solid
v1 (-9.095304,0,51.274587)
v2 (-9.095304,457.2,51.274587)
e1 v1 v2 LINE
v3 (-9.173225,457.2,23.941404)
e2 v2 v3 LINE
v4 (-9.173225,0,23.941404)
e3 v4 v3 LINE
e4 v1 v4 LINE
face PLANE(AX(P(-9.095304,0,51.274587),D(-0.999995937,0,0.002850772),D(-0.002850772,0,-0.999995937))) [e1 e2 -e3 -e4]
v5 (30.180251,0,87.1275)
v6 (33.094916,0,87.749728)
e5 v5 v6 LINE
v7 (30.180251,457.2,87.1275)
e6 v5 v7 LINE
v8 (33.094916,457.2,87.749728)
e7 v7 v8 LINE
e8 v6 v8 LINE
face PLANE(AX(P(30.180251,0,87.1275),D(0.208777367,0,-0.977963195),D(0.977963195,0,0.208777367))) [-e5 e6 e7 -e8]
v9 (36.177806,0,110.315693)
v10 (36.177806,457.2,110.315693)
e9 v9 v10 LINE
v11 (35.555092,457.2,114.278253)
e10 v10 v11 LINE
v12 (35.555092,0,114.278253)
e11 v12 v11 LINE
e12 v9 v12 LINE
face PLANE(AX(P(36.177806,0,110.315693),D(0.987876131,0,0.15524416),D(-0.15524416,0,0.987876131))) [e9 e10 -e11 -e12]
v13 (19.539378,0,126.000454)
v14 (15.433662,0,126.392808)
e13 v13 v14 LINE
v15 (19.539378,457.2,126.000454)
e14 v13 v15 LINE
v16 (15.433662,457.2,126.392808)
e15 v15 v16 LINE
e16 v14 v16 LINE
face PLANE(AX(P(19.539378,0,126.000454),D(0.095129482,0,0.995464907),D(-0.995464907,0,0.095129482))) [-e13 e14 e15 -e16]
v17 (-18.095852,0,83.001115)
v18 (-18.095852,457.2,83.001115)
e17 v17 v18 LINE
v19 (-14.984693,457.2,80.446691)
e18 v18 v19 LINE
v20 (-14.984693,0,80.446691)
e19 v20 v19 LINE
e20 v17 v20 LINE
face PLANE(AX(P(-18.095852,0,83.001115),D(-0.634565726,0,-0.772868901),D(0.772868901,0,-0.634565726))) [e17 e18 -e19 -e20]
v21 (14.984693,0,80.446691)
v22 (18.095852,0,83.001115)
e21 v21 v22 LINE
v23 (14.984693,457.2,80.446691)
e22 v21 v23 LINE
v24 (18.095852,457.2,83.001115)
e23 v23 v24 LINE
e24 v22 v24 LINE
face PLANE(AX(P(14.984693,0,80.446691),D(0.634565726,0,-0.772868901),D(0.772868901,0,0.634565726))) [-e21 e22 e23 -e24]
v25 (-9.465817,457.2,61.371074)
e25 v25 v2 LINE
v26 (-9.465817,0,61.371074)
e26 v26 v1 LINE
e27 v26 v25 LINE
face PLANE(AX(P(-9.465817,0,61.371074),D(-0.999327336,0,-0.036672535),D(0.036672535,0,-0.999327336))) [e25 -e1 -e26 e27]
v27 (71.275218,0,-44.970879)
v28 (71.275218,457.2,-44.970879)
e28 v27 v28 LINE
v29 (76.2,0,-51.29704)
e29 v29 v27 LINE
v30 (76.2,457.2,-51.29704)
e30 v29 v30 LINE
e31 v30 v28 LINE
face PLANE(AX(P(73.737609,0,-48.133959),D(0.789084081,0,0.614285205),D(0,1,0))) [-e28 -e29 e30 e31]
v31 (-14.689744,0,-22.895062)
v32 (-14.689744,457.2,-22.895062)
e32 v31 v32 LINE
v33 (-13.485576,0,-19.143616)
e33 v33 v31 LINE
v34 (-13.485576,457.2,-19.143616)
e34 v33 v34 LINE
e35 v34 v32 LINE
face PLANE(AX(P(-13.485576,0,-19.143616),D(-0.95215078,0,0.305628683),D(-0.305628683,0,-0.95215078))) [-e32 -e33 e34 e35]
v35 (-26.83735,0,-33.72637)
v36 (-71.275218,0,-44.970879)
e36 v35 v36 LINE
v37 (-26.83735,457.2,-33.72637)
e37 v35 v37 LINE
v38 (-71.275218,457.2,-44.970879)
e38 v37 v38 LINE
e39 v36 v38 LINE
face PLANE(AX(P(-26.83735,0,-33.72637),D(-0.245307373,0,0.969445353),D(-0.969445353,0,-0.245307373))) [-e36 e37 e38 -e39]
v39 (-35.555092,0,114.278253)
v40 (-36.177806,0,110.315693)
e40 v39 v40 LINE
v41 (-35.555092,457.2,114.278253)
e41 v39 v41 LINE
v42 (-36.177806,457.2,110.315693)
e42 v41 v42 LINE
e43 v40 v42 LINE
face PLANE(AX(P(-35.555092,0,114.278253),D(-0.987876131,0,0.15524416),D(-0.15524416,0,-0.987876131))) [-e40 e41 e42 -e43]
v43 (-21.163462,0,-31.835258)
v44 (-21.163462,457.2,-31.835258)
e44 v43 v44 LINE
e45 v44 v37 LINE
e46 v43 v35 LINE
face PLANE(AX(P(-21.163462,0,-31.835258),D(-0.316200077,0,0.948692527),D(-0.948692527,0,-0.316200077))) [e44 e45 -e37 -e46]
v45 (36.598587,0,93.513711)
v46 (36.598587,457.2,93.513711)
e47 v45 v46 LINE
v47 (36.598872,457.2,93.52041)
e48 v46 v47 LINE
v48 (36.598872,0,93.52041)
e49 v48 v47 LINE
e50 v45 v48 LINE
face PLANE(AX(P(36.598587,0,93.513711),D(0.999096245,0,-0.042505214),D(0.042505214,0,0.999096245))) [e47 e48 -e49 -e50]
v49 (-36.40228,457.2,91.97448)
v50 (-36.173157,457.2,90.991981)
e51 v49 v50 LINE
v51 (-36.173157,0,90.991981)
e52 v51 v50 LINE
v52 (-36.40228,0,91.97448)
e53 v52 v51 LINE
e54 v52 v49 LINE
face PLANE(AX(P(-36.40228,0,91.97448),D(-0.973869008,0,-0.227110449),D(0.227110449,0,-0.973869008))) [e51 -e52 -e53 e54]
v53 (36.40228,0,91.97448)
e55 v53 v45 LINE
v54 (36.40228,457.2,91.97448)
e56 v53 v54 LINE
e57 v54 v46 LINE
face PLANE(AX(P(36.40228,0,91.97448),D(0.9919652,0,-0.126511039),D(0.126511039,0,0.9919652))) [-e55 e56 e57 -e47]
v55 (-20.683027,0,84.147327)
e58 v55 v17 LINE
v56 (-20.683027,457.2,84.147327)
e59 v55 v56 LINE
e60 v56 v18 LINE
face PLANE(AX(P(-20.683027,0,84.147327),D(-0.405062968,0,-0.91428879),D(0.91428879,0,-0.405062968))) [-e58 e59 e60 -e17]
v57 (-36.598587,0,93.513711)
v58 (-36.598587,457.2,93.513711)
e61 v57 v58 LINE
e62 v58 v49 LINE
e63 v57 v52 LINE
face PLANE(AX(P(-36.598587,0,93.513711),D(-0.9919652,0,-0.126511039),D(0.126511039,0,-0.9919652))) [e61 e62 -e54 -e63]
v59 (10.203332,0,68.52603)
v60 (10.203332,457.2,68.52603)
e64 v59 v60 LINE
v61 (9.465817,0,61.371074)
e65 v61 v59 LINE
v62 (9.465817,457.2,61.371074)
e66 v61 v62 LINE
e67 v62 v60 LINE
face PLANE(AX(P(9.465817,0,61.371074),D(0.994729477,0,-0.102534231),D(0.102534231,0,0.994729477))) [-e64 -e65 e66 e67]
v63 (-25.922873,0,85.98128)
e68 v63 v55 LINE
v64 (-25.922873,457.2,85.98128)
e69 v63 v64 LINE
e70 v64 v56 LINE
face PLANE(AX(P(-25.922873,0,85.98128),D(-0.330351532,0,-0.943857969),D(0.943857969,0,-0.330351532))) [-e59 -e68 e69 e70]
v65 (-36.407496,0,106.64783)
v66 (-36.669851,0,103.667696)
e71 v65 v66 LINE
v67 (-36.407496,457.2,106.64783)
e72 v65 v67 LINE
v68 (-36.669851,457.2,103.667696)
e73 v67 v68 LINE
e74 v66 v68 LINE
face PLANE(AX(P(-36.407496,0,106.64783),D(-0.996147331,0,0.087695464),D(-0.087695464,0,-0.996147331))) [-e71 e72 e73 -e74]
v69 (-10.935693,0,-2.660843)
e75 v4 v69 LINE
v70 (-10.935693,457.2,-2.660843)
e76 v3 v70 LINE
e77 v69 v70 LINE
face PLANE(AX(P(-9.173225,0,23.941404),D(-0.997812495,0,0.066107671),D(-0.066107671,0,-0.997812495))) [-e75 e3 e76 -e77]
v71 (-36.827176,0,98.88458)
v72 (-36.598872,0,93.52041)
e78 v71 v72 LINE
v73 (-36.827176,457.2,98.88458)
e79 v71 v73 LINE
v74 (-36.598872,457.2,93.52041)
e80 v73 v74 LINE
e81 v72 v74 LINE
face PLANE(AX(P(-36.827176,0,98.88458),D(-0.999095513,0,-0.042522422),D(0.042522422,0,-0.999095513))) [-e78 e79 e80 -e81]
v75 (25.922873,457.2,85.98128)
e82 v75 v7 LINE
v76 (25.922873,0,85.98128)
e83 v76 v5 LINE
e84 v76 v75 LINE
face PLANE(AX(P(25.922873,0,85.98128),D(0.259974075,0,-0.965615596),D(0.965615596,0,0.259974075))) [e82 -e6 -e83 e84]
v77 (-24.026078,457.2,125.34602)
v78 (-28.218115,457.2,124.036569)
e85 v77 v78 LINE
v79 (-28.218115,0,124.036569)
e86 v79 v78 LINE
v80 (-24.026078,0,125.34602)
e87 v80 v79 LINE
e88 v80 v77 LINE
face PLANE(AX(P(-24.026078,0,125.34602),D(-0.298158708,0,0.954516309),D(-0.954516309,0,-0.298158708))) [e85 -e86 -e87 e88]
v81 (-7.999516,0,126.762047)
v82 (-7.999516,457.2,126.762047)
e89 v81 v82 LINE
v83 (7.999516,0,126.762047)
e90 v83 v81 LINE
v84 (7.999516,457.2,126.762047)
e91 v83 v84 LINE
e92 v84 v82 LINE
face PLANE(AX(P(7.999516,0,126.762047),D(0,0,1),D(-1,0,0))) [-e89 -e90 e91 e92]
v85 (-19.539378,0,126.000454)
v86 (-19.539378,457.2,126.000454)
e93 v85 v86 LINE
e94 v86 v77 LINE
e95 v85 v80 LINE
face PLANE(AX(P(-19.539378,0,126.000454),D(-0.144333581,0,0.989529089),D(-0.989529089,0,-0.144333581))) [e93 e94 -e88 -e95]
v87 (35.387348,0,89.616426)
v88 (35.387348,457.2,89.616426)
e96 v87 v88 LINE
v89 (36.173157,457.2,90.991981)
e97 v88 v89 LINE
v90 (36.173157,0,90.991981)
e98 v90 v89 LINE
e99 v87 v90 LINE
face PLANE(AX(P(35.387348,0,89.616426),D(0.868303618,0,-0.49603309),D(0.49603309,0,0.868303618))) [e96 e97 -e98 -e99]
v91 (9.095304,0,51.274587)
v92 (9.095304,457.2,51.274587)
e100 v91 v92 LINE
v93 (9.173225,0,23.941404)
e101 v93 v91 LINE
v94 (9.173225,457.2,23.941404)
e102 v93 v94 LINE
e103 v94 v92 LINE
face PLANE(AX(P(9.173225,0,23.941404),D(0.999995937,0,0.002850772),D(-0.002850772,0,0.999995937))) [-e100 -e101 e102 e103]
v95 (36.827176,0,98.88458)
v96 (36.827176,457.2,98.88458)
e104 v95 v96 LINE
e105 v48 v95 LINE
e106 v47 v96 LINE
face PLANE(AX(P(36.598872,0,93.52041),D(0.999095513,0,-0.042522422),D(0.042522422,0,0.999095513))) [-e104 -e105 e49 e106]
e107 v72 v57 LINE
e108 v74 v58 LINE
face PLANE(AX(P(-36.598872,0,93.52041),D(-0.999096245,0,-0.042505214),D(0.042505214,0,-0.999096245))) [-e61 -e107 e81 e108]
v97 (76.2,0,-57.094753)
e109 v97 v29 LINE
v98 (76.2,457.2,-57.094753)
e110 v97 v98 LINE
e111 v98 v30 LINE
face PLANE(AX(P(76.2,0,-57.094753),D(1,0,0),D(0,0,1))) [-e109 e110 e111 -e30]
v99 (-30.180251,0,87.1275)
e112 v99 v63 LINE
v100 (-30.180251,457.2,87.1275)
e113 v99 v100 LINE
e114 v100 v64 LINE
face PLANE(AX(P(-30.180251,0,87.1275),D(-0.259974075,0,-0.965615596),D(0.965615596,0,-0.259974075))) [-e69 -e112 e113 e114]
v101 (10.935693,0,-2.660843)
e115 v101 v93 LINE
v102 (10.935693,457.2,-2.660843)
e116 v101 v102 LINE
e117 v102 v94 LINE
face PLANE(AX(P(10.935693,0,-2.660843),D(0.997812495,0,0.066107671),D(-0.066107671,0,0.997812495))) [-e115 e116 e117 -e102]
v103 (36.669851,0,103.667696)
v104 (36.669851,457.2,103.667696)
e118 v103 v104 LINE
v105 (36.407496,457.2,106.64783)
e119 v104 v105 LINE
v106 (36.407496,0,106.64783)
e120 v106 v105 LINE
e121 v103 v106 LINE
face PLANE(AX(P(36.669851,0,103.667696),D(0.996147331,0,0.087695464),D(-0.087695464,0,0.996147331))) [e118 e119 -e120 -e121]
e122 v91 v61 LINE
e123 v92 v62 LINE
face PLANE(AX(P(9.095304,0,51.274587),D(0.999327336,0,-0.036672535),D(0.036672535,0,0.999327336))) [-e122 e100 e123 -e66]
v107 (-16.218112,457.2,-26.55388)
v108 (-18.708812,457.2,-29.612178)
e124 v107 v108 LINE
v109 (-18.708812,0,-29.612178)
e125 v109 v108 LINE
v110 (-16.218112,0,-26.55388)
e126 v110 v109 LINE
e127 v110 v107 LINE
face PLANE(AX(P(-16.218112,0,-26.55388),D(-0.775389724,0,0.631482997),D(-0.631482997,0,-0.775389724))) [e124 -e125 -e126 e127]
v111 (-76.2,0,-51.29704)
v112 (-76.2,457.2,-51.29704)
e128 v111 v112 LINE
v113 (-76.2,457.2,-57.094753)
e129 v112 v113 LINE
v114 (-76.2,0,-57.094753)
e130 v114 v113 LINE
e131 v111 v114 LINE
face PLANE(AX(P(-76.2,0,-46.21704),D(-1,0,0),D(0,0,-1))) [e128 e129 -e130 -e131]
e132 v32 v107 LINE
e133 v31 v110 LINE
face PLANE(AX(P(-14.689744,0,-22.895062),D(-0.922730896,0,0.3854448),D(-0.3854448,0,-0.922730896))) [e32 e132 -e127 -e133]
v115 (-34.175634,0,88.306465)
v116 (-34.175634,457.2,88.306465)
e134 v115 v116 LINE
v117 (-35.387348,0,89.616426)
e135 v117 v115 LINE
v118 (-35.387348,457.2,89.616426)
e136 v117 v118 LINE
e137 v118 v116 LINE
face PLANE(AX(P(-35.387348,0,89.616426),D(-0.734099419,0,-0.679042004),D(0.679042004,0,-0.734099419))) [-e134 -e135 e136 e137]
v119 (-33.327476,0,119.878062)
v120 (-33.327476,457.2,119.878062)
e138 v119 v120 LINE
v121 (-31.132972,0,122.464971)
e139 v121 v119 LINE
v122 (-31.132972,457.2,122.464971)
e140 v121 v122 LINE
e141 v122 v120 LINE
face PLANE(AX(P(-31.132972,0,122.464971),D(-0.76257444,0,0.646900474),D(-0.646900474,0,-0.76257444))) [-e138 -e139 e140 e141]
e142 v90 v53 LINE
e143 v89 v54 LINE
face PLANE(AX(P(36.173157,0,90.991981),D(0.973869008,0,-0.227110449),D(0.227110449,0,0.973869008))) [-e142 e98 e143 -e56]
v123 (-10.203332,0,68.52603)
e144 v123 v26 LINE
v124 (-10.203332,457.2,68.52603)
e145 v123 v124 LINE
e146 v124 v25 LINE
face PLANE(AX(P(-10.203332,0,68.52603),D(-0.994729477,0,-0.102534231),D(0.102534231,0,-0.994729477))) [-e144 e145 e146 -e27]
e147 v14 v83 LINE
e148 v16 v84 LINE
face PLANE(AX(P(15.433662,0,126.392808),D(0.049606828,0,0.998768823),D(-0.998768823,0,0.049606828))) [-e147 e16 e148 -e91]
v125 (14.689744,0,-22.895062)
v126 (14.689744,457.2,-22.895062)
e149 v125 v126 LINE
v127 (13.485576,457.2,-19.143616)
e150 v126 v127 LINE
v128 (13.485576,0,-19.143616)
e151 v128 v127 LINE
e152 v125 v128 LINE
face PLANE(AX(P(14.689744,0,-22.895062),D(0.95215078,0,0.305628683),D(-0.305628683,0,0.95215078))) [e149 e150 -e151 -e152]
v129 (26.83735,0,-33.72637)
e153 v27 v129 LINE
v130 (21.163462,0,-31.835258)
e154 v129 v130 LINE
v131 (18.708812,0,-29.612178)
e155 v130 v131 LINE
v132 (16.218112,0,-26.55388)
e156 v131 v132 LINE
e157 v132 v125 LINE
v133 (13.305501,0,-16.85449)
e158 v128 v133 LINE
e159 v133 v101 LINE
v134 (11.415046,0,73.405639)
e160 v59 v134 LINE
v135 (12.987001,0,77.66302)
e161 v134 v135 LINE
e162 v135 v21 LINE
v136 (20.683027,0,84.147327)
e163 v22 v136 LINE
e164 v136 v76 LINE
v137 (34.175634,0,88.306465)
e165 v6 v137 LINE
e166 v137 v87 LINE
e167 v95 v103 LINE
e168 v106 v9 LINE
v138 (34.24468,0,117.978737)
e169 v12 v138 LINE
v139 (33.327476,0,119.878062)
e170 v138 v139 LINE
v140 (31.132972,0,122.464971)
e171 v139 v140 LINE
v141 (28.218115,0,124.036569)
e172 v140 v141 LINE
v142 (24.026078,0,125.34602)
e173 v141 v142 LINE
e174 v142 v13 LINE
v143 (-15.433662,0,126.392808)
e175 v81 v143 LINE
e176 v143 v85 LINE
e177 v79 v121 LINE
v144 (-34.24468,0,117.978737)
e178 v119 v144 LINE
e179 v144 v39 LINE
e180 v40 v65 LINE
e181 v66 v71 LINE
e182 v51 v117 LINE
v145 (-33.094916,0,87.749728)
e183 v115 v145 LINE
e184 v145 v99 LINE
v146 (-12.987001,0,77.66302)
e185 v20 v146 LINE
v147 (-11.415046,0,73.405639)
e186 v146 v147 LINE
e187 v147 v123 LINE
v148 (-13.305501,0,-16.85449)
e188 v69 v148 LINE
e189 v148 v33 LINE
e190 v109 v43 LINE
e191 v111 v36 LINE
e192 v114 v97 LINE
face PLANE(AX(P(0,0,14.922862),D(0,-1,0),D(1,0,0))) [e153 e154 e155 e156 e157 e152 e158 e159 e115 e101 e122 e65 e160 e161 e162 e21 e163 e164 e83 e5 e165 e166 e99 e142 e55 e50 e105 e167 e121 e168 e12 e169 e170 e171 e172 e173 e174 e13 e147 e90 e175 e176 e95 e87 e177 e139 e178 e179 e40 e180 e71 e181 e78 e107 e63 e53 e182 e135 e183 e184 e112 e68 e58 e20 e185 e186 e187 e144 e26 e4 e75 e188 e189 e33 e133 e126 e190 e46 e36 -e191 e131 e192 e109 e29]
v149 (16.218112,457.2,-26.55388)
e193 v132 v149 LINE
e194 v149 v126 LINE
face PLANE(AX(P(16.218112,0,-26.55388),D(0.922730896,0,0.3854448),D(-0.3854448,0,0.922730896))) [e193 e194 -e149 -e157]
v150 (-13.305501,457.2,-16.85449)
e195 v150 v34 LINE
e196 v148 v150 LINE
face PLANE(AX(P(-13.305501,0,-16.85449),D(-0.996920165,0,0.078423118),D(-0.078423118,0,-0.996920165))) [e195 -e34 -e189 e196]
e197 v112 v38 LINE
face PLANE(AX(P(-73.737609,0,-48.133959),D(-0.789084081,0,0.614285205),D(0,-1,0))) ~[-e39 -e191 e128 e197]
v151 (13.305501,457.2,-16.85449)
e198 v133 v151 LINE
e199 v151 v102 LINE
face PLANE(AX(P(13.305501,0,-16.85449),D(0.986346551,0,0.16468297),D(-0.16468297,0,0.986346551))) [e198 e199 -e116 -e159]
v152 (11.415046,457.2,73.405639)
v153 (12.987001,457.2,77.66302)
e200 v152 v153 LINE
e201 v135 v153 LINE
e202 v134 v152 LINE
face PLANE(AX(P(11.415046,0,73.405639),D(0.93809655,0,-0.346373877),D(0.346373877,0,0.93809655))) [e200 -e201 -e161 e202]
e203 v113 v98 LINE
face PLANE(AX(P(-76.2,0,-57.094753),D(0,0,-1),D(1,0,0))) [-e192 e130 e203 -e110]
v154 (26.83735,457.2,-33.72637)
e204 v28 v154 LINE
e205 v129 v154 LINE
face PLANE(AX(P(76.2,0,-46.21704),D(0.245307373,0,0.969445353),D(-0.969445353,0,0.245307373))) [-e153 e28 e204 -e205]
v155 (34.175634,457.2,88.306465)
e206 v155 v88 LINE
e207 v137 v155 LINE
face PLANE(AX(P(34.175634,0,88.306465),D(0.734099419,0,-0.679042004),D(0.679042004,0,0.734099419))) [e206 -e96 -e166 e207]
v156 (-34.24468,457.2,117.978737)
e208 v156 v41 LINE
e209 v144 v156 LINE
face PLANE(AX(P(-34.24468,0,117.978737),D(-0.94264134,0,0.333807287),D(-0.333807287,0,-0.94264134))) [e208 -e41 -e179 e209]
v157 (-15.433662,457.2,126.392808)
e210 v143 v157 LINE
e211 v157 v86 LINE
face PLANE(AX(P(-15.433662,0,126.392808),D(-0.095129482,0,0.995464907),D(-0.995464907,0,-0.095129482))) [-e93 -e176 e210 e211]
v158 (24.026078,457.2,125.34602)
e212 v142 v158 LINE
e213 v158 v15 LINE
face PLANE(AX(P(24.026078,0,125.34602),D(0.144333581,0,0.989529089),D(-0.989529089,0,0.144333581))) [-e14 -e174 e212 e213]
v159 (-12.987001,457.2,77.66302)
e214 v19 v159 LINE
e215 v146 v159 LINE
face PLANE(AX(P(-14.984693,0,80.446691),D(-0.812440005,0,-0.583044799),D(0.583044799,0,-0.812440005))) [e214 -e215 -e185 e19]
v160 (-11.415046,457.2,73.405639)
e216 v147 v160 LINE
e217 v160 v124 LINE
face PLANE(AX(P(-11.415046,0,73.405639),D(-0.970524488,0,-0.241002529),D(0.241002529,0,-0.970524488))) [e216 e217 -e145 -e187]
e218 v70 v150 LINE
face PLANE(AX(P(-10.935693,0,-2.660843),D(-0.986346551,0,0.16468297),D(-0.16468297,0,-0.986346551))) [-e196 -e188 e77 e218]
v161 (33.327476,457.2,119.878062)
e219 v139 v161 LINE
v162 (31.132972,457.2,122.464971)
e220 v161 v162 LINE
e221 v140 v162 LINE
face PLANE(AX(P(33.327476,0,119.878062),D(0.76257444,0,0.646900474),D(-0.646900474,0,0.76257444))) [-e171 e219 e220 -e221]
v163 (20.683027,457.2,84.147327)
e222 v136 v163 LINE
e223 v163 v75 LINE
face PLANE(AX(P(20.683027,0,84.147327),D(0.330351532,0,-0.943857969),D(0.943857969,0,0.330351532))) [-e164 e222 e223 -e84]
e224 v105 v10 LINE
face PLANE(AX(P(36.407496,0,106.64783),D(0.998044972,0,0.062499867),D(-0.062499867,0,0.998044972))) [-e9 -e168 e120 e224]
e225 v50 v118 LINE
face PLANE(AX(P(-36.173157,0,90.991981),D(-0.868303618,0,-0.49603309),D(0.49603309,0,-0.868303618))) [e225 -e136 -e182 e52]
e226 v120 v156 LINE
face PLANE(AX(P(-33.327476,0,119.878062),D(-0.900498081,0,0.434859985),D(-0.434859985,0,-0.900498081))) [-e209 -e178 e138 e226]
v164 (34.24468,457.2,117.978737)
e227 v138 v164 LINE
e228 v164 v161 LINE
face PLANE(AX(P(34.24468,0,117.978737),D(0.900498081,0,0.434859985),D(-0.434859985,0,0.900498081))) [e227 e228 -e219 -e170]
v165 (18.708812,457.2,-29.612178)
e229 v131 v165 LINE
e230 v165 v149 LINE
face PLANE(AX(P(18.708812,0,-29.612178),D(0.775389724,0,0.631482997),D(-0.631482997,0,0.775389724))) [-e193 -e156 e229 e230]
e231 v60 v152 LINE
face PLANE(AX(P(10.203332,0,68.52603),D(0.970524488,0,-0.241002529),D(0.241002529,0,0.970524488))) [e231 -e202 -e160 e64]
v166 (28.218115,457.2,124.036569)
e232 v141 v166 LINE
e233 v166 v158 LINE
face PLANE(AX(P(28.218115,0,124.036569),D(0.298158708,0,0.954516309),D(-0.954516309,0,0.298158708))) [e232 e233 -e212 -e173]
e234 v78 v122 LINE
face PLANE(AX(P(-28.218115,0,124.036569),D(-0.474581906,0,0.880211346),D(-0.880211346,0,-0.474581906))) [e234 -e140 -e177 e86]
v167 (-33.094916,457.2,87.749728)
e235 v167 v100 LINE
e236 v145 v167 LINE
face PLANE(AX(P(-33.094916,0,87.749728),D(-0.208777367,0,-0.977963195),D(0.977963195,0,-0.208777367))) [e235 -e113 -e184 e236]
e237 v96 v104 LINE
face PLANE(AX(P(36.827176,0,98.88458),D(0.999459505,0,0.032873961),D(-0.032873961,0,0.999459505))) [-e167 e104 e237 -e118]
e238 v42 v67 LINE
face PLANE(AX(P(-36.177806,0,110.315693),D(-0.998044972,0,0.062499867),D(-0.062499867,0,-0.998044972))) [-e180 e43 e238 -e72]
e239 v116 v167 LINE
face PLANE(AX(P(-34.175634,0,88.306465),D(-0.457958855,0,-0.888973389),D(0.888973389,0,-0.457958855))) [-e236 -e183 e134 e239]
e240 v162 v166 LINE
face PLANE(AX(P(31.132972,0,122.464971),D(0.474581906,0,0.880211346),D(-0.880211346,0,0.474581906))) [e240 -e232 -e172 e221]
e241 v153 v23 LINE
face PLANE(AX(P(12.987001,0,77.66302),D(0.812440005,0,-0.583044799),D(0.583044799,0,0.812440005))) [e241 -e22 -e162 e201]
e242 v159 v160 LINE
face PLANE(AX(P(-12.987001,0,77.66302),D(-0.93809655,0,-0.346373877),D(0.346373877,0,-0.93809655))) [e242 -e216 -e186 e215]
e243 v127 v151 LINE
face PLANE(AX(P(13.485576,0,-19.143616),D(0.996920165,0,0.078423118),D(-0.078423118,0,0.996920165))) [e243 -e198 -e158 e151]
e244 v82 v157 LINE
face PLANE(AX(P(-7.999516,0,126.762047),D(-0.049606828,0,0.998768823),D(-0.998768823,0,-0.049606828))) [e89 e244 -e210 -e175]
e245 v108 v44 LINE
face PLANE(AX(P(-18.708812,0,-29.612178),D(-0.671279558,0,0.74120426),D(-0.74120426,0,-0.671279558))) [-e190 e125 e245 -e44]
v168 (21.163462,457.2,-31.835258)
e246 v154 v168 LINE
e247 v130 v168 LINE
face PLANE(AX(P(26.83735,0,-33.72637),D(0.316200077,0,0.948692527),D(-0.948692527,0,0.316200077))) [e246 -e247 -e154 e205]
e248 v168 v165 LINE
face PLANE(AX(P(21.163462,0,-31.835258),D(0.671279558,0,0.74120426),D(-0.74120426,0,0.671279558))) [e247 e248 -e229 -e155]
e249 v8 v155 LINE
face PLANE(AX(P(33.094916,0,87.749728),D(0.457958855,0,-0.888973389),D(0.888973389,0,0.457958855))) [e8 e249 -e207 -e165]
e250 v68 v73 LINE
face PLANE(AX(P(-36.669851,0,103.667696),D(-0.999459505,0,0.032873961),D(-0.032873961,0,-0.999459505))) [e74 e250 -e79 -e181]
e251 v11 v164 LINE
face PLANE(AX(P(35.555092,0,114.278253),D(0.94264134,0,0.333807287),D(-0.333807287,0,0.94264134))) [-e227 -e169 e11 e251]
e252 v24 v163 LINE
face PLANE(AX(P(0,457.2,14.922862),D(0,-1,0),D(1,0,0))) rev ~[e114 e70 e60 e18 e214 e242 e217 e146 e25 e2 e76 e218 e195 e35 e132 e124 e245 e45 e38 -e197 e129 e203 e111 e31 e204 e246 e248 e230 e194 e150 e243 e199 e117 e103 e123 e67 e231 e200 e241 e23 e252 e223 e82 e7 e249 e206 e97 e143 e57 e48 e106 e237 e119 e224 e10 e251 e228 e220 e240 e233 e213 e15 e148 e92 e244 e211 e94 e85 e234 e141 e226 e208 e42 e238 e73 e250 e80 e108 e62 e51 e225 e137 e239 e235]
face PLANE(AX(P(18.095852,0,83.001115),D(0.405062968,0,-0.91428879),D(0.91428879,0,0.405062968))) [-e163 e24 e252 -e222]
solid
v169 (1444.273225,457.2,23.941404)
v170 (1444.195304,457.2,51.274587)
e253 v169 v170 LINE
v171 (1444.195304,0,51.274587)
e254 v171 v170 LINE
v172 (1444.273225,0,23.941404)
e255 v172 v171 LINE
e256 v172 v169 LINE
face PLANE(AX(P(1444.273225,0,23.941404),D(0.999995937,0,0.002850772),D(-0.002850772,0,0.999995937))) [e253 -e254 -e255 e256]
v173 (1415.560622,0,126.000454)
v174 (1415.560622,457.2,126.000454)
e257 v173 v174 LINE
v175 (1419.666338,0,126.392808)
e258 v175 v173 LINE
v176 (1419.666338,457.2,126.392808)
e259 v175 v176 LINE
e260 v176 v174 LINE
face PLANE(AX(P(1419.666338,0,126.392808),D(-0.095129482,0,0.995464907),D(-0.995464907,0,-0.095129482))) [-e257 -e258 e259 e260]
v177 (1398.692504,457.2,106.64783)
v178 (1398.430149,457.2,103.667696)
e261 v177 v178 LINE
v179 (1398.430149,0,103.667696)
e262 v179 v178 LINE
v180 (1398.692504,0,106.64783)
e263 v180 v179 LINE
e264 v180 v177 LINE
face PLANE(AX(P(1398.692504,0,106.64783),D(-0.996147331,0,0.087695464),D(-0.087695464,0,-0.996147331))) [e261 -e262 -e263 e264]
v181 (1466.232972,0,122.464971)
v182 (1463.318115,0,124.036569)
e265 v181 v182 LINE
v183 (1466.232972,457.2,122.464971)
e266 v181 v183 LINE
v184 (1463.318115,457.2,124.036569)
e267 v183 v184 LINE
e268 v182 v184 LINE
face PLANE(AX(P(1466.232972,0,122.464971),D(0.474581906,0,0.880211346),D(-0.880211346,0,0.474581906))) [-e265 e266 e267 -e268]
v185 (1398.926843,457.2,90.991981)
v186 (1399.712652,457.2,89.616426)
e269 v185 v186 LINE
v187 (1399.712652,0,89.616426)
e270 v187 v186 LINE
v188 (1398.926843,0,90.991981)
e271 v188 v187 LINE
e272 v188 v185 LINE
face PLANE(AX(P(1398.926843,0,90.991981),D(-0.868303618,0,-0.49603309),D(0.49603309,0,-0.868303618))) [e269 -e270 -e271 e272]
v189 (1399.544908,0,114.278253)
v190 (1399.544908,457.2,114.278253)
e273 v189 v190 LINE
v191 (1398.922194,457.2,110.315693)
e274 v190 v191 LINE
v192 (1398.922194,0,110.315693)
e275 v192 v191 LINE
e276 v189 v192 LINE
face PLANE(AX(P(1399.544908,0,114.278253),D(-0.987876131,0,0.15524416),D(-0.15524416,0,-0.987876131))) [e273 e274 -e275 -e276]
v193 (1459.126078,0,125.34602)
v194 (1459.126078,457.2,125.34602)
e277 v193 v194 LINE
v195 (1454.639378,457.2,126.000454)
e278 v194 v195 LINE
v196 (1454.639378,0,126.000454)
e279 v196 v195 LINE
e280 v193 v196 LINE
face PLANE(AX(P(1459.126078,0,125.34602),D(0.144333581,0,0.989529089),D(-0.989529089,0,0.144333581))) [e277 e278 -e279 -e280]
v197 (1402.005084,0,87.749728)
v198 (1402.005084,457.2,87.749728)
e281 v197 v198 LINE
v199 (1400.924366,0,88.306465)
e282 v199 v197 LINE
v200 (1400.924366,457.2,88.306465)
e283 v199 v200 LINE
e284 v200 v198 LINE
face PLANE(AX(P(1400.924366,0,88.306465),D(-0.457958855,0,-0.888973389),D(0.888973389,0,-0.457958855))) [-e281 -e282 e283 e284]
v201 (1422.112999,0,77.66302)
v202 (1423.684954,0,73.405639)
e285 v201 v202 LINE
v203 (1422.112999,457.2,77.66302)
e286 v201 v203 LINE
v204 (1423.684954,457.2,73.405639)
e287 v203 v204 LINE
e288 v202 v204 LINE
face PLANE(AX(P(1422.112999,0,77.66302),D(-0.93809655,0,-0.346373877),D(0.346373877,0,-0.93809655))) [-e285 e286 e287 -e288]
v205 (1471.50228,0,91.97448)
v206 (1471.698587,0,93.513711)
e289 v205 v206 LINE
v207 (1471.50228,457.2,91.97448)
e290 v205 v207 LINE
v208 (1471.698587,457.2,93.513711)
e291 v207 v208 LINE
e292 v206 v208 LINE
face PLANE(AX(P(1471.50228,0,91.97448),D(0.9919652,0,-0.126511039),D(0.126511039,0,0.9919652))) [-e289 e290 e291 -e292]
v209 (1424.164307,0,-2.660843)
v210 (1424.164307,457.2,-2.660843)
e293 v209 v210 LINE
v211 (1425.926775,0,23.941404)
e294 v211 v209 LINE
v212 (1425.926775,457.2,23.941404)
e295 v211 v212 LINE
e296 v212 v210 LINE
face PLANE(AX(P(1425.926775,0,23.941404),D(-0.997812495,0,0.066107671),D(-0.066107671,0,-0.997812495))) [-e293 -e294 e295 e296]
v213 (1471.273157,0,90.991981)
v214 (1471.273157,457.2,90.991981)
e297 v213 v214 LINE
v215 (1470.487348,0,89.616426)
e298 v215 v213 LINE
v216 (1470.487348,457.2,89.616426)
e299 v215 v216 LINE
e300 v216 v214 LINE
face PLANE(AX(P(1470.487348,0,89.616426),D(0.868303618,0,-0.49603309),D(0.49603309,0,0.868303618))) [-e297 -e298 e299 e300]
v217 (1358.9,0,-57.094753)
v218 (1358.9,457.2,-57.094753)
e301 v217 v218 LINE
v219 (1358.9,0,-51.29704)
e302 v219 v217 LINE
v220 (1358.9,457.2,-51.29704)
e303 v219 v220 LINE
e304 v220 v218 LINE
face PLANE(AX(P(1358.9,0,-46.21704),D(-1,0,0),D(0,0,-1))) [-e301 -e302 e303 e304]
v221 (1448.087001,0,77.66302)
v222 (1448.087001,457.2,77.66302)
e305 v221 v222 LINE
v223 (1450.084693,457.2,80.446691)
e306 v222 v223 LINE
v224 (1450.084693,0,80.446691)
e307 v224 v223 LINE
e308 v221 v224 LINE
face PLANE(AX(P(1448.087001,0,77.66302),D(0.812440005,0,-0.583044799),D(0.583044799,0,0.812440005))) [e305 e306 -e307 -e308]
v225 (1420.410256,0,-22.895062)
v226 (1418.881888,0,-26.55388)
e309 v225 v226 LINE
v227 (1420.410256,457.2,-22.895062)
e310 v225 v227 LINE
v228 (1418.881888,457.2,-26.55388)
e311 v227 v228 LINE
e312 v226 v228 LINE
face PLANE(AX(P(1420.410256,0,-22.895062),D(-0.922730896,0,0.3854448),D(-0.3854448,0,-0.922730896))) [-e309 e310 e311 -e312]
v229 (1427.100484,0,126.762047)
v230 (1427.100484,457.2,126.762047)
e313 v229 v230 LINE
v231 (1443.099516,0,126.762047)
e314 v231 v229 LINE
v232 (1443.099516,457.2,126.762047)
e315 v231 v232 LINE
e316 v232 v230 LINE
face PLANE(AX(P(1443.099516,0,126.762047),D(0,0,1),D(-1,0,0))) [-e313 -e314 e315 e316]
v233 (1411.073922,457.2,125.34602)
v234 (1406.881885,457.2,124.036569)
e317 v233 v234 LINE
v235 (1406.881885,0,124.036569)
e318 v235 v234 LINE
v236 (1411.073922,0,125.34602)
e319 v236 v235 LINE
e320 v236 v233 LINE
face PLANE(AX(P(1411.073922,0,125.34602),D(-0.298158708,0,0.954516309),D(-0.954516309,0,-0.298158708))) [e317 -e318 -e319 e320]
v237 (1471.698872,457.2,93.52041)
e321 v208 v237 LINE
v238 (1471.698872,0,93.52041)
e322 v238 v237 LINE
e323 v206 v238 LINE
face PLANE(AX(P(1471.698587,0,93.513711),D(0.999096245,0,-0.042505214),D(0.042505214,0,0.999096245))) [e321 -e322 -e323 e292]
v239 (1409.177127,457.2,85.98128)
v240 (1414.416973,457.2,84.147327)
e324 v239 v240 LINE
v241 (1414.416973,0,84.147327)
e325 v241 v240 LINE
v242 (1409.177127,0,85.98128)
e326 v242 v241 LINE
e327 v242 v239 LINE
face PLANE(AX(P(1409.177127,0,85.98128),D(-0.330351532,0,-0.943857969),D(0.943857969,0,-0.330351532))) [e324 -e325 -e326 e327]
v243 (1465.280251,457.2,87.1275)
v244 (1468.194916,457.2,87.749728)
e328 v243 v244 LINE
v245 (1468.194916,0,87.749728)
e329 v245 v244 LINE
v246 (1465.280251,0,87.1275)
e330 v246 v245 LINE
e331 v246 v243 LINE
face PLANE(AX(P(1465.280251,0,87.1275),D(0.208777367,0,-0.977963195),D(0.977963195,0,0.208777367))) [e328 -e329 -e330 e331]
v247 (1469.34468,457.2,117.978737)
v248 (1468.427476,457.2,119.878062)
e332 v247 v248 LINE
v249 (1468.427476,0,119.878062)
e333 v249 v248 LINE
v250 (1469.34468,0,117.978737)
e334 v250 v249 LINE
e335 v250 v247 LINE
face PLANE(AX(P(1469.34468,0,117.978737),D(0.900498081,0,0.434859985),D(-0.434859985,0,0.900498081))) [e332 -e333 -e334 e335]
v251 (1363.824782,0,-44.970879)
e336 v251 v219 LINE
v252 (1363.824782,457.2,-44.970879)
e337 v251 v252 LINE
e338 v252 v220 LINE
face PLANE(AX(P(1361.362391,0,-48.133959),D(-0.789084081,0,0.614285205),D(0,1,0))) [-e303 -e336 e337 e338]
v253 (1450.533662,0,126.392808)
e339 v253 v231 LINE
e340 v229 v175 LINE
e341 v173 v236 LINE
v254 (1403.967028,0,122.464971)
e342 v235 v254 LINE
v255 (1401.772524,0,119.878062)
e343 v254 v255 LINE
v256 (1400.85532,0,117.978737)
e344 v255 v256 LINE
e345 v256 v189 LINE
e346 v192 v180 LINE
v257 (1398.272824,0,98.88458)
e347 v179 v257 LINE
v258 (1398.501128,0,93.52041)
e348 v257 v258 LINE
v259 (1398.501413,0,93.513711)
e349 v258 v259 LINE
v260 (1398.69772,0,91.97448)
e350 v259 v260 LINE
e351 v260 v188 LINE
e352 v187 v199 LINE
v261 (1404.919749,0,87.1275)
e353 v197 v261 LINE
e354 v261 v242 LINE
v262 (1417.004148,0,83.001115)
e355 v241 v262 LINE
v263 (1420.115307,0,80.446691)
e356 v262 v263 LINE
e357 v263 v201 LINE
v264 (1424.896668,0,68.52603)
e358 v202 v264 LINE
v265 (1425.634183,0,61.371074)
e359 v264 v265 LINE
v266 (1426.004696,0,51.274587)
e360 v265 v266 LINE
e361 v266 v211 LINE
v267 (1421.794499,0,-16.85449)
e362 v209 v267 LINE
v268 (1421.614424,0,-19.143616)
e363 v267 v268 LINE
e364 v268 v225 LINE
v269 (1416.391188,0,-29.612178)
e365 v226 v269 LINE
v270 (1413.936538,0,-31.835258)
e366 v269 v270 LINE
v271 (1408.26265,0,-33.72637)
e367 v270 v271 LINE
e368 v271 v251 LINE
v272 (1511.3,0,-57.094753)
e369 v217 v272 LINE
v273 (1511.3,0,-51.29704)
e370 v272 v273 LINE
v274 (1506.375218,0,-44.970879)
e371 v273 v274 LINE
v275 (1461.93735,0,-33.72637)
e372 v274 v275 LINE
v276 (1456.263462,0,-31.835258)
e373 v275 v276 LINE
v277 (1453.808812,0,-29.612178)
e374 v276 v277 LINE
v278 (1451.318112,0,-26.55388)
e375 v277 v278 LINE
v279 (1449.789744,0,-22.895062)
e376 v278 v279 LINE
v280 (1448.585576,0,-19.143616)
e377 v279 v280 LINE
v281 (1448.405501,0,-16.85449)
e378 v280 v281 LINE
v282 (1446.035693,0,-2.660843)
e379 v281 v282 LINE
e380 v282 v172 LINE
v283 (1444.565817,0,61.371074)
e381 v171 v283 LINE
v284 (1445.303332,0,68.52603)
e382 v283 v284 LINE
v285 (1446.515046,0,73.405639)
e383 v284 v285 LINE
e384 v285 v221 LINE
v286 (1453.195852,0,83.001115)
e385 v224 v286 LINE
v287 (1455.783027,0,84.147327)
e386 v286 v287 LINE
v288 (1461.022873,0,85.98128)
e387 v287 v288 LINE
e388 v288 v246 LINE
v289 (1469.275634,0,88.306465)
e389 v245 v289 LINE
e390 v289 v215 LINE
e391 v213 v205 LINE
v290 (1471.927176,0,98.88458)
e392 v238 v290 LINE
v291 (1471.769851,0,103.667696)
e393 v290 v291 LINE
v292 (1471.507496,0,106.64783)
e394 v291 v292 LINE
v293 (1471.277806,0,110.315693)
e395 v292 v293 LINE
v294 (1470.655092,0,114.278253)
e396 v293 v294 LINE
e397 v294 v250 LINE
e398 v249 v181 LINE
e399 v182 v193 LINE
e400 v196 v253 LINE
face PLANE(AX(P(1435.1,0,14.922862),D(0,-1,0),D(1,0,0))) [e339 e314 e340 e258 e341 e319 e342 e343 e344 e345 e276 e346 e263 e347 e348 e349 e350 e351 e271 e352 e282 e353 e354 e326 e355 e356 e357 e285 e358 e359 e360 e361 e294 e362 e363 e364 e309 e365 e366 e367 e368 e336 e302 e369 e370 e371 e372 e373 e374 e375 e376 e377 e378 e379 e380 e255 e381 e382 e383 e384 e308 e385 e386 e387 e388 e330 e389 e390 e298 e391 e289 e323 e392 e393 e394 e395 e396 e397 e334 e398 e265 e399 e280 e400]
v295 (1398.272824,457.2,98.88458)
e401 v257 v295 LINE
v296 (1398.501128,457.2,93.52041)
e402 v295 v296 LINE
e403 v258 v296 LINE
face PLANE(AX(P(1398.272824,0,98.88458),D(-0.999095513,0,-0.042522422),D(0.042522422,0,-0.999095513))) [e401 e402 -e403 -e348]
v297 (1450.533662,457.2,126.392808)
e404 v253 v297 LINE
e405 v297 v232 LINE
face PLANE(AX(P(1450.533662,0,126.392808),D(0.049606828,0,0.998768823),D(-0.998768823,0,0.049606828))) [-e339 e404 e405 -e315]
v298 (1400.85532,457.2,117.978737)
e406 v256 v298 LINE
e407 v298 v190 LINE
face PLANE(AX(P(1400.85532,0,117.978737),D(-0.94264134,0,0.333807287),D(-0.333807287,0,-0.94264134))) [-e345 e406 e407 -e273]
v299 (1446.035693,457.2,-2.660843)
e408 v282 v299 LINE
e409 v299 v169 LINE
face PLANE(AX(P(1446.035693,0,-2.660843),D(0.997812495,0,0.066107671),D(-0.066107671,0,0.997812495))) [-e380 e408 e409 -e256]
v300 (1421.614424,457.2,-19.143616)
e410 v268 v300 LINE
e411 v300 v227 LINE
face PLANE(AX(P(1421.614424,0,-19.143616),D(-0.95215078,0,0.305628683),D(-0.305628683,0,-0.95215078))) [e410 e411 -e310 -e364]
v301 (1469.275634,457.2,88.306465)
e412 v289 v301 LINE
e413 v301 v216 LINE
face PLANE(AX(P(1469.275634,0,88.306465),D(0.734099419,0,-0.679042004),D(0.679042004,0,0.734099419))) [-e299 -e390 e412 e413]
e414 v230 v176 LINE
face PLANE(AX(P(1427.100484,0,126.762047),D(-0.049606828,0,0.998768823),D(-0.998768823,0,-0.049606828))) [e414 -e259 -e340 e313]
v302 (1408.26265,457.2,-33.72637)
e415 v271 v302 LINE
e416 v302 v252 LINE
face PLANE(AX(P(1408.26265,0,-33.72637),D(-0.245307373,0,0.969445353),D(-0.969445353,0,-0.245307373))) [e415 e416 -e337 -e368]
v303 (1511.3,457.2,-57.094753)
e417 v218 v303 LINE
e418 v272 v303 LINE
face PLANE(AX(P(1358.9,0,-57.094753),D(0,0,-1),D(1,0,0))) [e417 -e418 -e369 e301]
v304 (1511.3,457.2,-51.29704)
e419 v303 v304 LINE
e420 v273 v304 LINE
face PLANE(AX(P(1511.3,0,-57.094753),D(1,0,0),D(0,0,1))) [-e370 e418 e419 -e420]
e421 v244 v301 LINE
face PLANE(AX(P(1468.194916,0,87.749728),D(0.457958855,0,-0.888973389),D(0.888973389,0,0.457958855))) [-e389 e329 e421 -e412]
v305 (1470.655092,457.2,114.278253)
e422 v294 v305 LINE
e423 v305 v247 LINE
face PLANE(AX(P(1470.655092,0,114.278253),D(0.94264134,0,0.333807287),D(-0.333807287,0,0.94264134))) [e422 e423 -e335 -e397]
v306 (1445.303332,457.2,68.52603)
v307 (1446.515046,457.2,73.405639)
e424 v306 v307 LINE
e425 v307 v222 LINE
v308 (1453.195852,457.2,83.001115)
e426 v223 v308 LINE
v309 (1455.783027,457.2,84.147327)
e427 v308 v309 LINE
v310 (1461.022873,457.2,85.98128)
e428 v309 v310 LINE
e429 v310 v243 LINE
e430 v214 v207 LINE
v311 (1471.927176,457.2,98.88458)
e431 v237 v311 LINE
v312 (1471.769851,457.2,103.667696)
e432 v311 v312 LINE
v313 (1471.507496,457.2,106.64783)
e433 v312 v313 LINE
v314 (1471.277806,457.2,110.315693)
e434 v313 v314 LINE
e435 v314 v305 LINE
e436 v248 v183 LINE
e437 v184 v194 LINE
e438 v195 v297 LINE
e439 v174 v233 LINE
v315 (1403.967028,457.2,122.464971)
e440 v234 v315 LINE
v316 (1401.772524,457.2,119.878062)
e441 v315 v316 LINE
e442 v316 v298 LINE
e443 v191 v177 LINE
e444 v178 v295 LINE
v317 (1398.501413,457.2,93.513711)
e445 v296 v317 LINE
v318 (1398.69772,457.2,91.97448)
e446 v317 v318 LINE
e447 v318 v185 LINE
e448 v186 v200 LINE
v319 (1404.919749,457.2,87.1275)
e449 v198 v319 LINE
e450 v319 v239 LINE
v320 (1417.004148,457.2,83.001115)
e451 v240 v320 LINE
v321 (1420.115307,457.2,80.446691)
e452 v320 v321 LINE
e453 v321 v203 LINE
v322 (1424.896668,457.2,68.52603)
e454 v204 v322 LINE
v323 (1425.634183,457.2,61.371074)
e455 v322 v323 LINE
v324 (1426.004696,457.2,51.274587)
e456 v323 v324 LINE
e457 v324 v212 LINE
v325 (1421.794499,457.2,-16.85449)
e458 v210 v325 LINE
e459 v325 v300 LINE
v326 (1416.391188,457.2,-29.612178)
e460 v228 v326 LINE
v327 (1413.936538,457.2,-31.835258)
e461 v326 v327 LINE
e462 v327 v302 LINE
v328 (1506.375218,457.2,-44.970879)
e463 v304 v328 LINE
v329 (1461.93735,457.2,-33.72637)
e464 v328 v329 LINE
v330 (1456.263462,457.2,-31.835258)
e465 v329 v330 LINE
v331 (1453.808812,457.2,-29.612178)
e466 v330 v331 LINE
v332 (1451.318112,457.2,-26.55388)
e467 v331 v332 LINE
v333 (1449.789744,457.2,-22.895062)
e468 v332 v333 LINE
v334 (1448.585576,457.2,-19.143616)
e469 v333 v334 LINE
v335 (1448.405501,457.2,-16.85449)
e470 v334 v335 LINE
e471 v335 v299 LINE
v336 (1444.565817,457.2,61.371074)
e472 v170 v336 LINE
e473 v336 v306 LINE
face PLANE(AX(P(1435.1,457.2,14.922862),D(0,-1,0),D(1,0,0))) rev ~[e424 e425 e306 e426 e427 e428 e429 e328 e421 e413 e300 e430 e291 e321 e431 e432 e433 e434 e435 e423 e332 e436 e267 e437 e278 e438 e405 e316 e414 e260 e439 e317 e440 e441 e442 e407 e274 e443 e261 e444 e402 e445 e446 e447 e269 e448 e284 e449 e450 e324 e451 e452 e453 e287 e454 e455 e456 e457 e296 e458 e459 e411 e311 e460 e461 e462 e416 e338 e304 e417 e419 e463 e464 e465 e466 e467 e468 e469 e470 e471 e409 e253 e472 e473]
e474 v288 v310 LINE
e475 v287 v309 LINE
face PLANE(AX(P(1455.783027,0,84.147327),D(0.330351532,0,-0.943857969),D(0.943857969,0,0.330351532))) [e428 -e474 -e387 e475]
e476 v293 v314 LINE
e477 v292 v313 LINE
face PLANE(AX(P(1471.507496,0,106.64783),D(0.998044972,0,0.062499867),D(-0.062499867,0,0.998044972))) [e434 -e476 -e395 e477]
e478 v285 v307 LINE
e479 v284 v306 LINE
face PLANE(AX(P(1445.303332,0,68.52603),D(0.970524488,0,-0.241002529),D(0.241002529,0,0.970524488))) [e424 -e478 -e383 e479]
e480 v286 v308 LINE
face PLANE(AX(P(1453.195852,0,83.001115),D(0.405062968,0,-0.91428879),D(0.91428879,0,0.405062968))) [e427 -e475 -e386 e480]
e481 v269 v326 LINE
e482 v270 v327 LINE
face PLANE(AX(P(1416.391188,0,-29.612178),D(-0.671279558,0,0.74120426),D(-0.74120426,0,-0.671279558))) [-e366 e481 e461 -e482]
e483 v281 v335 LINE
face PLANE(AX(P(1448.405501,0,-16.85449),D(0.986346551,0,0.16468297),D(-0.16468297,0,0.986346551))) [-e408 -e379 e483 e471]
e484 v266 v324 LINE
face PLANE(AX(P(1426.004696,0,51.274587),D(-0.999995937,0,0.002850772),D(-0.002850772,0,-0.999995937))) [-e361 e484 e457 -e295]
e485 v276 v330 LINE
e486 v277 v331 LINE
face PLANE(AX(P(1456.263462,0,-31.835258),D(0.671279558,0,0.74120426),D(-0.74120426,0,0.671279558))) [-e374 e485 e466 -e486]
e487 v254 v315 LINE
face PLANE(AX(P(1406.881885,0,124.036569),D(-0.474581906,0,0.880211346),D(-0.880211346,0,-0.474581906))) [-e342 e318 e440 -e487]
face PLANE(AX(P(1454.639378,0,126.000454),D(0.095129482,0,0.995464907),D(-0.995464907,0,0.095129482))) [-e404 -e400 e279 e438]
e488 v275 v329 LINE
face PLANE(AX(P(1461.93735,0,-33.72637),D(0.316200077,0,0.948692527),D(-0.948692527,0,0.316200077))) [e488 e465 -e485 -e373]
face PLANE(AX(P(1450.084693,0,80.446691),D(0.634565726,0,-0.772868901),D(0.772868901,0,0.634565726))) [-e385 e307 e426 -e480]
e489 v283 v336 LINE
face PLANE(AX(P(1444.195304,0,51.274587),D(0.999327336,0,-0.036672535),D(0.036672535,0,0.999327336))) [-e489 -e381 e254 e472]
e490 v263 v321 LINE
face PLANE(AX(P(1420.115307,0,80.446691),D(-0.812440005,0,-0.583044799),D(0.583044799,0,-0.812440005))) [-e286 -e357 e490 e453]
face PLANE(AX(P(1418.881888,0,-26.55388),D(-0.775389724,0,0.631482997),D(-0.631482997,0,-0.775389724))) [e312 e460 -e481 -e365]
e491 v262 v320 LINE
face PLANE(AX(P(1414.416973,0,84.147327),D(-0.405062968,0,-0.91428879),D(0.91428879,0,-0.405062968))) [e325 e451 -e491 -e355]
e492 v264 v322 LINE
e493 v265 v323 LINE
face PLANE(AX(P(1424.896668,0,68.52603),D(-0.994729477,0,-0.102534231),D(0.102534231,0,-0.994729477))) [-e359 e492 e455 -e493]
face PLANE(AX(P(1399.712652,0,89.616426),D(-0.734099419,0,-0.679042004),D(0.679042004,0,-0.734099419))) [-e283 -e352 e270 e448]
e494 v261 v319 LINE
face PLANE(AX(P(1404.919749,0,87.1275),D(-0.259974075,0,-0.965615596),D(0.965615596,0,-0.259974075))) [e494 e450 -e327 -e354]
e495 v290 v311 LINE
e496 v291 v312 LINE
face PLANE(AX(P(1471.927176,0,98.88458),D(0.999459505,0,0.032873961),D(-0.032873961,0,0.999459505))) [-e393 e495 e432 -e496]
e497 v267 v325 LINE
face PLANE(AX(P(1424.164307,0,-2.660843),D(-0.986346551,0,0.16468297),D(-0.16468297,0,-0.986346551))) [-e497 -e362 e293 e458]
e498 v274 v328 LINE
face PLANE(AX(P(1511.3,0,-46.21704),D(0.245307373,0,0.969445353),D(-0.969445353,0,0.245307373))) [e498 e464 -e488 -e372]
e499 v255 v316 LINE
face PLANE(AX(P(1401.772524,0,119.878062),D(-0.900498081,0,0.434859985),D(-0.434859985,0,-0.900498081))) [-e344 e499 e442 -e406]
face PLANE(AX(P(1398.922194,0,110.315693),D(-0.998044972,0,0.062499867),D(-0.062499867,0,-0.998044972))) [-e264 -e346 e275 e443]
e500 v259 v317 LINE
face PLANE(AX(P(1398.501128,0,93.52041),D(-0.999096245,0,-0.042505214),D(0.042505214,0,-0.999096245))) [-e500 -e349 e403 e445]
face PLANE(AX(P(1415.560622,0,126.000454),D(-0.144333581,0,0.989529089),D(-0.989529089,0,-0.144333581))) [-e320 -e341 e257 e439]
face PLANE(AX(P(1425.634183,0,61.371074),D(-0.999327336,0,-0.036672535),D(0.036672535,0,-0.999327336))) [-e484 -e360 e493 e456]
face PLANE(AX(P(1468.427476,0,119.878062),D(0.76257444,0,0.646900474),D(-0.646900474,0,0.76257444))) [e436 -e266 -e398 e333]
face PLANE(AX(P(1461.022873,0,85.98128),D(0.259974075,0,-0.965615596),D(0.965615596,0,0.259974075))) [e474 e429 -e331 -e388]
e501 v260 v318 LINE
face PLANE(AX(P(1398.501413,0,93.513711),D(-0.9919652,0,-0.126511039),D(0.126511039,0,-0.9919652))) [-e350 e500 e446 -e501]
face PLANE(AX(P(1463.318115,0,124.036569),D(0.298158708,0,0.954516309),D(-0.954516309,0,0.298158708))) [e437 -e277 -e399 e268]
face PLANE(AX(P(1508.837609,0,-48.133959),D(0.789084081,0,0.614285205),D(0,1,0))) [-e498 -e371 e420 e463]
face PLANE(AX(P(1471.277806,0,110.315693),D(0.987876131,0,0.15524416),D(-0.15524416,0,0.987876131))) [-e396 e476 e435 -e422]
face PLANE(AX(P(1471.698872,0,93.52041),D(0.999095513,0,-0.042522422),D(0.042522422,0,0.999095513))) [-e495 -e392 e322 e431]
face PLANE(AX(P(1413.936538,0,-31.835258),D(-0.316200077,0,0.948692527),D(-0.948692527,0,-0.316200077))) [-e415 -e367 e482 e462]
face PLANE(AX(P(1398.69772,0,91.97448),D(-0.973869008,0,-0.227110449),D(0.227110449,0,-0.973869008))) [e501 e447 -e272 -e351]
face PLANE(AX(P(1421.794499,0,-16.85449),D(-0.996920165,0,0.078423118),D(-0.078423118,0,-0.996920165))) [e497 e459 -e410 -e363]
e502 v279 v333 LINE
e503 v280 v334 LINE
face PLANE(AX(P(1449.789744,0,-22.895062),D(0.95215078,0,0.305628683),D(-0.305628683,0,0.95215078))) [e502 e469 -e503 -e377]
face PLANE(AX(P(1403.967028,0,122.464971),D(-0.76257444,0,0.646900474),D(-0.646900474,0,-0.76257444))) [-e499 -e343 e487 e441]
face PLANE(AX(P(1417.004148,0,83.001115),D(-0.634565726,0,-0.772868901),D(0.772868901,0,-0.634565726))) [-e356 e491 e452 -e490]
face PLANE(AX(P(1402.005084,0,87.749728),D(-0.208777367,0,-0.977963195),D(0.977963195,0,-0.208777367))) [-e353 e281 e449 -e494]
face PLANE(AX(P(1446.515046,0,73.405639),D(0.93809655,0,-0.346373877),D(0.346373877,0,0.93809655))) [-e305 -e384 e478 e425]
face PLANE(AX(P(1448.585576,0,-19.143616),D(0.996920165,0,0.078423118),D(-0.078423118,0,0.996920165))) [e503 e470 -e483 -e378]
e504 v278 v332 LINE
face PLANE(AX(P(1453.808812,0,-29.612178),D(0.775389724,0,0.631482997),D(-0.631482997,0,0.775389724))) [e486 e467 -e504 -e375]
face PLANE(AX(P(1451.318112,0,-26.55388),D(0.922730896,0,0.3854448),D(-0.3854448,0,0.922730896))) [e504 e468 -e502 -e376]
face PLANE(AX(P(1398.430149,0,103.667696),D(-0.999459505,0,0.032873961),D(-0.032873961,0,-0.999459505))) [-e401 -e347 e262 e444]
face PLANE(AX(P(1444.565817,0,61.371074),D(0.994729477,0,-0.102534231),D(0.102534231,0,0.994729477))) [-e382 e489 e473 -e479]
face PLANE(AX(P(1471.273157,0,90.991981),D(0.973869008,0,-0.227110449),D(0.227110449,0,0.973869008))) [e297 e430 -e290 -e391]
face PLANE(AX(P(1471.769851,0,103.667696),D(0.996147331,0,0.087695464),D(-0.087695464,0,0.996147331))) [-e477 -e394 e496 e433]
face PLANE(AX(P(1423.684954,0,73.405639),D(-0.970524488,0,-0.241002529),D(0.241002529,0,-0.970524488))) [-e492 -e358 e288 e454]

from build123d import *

# Parameters (mm, degrees)
F1_DEPTH = 457.2
F2_SIZE  = 5.08


with BuildPart() as f1:
    # F0 (on Front) → F1 (new body)
    with BuildSketch(Plane.XZ):
        Polygon((-76.2, -46.21704), (-76.2, -57.094753), (76.2, -57.094753), (76.2, -46.21704), (26.83735, -33.72637), (21.163462, -31.835258), (18.708812, -29.612178), (16.218112, -26.55388), (14.689744, -22.895062), (13.485576, -19.143616), (13.305501, -16.85449), (10.935693, -2.660843), (9.173225, 23.941404), (9.095304, 51.274587), (9.465817, 61.371074), (10.203332, 68.52603), (11.415046, 73.405639), (12.987001, 77.66302), (14.984693, 80.446691), (18.095852, 83.001115), (20.683027, 84.147327), (25.922873, 85.98128), (30.180251, 87.1275), (33.094916, 87.749728), (34.175634, 88.306465), (35.387348, 89.616426), (36.173157, 90.991981), (36.40228, 91.97448), (36.598587, 93.513711), (36.598872, 93.52041), (36.827176, 98.88458), (36.669851, 103.667696), (36.407496, 106.64783), (36.177806, 110.315693), (35.555092, 114.278253), (34.24468, 117.978737), (33.327476, 119.878062), (31.132972, 122.464971), (28.218115, 124.036569), (24.026078, 125.34602), (19.539378, 126.000454), (15.433662, 126.392808), (7.999516, 126.762047), (0, 126.762047), (-7.999516, 126.762047), (-15.433662, 126.392808), (-19.539378, 126.000454), (-24.026078, 125.34602), (-28.218115, 124.036569), (-31.132972, 122.464971), (-33.327476, 119.878062), (-34.24468, 117.978737), (-35.555092, 114.278253), (-36.177806, 110.315693), (-36.407496, 106.64783), (-36.669851, 103.667696), (-36.827176, 98.88458), (-36.598872, 93.52041), (-36.598587, 93.513711), (-36.40228, 91.97448), (-36.173157, 90.991981), (-35.387348, 89.616426), (-34.175634, 88.306465), (-33.094916, 87.749728), (-30.180251, 87.1275), (-25.922873, 85.98128), (-20.683027, 84.147327), (-18.095852, 83.001115), (-14.984693, 80.446691), (-12.987001, 77.66302), (-11.415046, 73.405639), (-10.203332, 68.52603), (-9.465817, 61.371074), (-9.095304, 51.274587), (-9.173225, 23.941404), (-10.935693, -2.660843), (-13.305501, -16.85449), (-13.485576, -19.143616), (-14.689744, -22.895062), (-16.218112, -26.55388), (-18.708812, -29.612178), (-21.163462, -31.835258), (-26.83735, -33.72637), align=None)
        Polygon((1469.275634, 88.306465), (1470.487348, 89.616426), (1471.273157, 90.991981), (1471.50228, 91.97448), (1471.698587, 93.513711), (1471.698872, 93.52041), (1471.927176, 98.88458), (1471.769851, 103.667696), (1471.507496, 106.64783), (1471.277806, 110.315693), (1470.655092, 114.278253), (1469.34468, 117.978737), (1468.427476, 119.878062), (1466.232972, 122.464971), (1463.318115, 124.036569), (1459.126078, 125.34602), (1454.639378, 126.000454), (1450.533662, 126.392808), (1443.099516, 126.762047), (1435.1, 126.762047), (1427.100484, 126.762047), (1419.666338, 126.392808), (1415.560622, 126.000454), (1411.073922, 125.34602), (1406.881885, 124.036569), (1403.967028, 122.464971), (1401.772524, 119.878062), (1400.85532, 117.978737), (1399.544908, 114.278253), (1398.922194, 110.315693), (1398.692504, 106.64783), (1398.430149, 103.667696), (1398.272824, 98.88458), (1398.501128, 93.52041), (1398.501413, 93.513711), (1398.69772, 91.97448), (1398.926843, 90.991981), (1399.712652, 89.616426), (1400.924366, 88.306465), (1402.005084, 87.749728), (1404.919749, 87.1275), (1409.177127, 85.98128), (1414.416973, 84.147327), (1417.004148, 83.001115), (1420.115307, 80.446691), (1422.112999, 77.66302), (1423.684954, 73.405639), (1424.896668, 68.52603), (1425.634183, 61.371074), (1426.004696, 51.274587), (1425.926775, 23.941404), (1424.164307, -2.660843), (1421.794499, -16.85449), (1421.614424, -19.143616), (1420.410256, -22.895062), (1418.881888, -26.55388), (1416.391188, -29.612178), (1413.936538, -31.835258), (1408.26265, -33.72637), (1358.9, -46.21704), (1358.9, -57.094753), (1511.3, -57.094753), (1511.3, -46.21704), (1461.93735, -33.72637), (1456.263462, -31.835258), (1453.808812, -29.612178), (1451.318112, -26.55388), (1449.789744, -22.895062), (1448.585576, -19.143616), (1448.405501, -16.85449), (1446.035693, -2.660843), (1444.273225, 23.941404), (1444.195304, 51.274587), (1444.565817, 61.371074), (1445.303332, 68.52603), (1446.515046, 73.405639), (1448.087001, 77.66302), (1450.084693, 80.446691), (1453.195852, 83.001115), (1455.783027, 84.147327), (1461.022873, 85.98128), (1465.280251, 87.1275), (1468.194916, 87.749728), align=None)
    extrude(amount=-F1_DEPTH)

    # F2
    f2_edges = [f1.edges().sort_by_distance(p)[0] for p in [
        (76.2, 228.6, -46.21704),
        (-76.2, 228.6, -46.21704),
        (1358.9, 228.6, -46.21704),
        (1511.3, 228.6, -46.21704),
    ]]
    chamfer(f2_edges, length=F2_SIZE)


solid = f1.part
